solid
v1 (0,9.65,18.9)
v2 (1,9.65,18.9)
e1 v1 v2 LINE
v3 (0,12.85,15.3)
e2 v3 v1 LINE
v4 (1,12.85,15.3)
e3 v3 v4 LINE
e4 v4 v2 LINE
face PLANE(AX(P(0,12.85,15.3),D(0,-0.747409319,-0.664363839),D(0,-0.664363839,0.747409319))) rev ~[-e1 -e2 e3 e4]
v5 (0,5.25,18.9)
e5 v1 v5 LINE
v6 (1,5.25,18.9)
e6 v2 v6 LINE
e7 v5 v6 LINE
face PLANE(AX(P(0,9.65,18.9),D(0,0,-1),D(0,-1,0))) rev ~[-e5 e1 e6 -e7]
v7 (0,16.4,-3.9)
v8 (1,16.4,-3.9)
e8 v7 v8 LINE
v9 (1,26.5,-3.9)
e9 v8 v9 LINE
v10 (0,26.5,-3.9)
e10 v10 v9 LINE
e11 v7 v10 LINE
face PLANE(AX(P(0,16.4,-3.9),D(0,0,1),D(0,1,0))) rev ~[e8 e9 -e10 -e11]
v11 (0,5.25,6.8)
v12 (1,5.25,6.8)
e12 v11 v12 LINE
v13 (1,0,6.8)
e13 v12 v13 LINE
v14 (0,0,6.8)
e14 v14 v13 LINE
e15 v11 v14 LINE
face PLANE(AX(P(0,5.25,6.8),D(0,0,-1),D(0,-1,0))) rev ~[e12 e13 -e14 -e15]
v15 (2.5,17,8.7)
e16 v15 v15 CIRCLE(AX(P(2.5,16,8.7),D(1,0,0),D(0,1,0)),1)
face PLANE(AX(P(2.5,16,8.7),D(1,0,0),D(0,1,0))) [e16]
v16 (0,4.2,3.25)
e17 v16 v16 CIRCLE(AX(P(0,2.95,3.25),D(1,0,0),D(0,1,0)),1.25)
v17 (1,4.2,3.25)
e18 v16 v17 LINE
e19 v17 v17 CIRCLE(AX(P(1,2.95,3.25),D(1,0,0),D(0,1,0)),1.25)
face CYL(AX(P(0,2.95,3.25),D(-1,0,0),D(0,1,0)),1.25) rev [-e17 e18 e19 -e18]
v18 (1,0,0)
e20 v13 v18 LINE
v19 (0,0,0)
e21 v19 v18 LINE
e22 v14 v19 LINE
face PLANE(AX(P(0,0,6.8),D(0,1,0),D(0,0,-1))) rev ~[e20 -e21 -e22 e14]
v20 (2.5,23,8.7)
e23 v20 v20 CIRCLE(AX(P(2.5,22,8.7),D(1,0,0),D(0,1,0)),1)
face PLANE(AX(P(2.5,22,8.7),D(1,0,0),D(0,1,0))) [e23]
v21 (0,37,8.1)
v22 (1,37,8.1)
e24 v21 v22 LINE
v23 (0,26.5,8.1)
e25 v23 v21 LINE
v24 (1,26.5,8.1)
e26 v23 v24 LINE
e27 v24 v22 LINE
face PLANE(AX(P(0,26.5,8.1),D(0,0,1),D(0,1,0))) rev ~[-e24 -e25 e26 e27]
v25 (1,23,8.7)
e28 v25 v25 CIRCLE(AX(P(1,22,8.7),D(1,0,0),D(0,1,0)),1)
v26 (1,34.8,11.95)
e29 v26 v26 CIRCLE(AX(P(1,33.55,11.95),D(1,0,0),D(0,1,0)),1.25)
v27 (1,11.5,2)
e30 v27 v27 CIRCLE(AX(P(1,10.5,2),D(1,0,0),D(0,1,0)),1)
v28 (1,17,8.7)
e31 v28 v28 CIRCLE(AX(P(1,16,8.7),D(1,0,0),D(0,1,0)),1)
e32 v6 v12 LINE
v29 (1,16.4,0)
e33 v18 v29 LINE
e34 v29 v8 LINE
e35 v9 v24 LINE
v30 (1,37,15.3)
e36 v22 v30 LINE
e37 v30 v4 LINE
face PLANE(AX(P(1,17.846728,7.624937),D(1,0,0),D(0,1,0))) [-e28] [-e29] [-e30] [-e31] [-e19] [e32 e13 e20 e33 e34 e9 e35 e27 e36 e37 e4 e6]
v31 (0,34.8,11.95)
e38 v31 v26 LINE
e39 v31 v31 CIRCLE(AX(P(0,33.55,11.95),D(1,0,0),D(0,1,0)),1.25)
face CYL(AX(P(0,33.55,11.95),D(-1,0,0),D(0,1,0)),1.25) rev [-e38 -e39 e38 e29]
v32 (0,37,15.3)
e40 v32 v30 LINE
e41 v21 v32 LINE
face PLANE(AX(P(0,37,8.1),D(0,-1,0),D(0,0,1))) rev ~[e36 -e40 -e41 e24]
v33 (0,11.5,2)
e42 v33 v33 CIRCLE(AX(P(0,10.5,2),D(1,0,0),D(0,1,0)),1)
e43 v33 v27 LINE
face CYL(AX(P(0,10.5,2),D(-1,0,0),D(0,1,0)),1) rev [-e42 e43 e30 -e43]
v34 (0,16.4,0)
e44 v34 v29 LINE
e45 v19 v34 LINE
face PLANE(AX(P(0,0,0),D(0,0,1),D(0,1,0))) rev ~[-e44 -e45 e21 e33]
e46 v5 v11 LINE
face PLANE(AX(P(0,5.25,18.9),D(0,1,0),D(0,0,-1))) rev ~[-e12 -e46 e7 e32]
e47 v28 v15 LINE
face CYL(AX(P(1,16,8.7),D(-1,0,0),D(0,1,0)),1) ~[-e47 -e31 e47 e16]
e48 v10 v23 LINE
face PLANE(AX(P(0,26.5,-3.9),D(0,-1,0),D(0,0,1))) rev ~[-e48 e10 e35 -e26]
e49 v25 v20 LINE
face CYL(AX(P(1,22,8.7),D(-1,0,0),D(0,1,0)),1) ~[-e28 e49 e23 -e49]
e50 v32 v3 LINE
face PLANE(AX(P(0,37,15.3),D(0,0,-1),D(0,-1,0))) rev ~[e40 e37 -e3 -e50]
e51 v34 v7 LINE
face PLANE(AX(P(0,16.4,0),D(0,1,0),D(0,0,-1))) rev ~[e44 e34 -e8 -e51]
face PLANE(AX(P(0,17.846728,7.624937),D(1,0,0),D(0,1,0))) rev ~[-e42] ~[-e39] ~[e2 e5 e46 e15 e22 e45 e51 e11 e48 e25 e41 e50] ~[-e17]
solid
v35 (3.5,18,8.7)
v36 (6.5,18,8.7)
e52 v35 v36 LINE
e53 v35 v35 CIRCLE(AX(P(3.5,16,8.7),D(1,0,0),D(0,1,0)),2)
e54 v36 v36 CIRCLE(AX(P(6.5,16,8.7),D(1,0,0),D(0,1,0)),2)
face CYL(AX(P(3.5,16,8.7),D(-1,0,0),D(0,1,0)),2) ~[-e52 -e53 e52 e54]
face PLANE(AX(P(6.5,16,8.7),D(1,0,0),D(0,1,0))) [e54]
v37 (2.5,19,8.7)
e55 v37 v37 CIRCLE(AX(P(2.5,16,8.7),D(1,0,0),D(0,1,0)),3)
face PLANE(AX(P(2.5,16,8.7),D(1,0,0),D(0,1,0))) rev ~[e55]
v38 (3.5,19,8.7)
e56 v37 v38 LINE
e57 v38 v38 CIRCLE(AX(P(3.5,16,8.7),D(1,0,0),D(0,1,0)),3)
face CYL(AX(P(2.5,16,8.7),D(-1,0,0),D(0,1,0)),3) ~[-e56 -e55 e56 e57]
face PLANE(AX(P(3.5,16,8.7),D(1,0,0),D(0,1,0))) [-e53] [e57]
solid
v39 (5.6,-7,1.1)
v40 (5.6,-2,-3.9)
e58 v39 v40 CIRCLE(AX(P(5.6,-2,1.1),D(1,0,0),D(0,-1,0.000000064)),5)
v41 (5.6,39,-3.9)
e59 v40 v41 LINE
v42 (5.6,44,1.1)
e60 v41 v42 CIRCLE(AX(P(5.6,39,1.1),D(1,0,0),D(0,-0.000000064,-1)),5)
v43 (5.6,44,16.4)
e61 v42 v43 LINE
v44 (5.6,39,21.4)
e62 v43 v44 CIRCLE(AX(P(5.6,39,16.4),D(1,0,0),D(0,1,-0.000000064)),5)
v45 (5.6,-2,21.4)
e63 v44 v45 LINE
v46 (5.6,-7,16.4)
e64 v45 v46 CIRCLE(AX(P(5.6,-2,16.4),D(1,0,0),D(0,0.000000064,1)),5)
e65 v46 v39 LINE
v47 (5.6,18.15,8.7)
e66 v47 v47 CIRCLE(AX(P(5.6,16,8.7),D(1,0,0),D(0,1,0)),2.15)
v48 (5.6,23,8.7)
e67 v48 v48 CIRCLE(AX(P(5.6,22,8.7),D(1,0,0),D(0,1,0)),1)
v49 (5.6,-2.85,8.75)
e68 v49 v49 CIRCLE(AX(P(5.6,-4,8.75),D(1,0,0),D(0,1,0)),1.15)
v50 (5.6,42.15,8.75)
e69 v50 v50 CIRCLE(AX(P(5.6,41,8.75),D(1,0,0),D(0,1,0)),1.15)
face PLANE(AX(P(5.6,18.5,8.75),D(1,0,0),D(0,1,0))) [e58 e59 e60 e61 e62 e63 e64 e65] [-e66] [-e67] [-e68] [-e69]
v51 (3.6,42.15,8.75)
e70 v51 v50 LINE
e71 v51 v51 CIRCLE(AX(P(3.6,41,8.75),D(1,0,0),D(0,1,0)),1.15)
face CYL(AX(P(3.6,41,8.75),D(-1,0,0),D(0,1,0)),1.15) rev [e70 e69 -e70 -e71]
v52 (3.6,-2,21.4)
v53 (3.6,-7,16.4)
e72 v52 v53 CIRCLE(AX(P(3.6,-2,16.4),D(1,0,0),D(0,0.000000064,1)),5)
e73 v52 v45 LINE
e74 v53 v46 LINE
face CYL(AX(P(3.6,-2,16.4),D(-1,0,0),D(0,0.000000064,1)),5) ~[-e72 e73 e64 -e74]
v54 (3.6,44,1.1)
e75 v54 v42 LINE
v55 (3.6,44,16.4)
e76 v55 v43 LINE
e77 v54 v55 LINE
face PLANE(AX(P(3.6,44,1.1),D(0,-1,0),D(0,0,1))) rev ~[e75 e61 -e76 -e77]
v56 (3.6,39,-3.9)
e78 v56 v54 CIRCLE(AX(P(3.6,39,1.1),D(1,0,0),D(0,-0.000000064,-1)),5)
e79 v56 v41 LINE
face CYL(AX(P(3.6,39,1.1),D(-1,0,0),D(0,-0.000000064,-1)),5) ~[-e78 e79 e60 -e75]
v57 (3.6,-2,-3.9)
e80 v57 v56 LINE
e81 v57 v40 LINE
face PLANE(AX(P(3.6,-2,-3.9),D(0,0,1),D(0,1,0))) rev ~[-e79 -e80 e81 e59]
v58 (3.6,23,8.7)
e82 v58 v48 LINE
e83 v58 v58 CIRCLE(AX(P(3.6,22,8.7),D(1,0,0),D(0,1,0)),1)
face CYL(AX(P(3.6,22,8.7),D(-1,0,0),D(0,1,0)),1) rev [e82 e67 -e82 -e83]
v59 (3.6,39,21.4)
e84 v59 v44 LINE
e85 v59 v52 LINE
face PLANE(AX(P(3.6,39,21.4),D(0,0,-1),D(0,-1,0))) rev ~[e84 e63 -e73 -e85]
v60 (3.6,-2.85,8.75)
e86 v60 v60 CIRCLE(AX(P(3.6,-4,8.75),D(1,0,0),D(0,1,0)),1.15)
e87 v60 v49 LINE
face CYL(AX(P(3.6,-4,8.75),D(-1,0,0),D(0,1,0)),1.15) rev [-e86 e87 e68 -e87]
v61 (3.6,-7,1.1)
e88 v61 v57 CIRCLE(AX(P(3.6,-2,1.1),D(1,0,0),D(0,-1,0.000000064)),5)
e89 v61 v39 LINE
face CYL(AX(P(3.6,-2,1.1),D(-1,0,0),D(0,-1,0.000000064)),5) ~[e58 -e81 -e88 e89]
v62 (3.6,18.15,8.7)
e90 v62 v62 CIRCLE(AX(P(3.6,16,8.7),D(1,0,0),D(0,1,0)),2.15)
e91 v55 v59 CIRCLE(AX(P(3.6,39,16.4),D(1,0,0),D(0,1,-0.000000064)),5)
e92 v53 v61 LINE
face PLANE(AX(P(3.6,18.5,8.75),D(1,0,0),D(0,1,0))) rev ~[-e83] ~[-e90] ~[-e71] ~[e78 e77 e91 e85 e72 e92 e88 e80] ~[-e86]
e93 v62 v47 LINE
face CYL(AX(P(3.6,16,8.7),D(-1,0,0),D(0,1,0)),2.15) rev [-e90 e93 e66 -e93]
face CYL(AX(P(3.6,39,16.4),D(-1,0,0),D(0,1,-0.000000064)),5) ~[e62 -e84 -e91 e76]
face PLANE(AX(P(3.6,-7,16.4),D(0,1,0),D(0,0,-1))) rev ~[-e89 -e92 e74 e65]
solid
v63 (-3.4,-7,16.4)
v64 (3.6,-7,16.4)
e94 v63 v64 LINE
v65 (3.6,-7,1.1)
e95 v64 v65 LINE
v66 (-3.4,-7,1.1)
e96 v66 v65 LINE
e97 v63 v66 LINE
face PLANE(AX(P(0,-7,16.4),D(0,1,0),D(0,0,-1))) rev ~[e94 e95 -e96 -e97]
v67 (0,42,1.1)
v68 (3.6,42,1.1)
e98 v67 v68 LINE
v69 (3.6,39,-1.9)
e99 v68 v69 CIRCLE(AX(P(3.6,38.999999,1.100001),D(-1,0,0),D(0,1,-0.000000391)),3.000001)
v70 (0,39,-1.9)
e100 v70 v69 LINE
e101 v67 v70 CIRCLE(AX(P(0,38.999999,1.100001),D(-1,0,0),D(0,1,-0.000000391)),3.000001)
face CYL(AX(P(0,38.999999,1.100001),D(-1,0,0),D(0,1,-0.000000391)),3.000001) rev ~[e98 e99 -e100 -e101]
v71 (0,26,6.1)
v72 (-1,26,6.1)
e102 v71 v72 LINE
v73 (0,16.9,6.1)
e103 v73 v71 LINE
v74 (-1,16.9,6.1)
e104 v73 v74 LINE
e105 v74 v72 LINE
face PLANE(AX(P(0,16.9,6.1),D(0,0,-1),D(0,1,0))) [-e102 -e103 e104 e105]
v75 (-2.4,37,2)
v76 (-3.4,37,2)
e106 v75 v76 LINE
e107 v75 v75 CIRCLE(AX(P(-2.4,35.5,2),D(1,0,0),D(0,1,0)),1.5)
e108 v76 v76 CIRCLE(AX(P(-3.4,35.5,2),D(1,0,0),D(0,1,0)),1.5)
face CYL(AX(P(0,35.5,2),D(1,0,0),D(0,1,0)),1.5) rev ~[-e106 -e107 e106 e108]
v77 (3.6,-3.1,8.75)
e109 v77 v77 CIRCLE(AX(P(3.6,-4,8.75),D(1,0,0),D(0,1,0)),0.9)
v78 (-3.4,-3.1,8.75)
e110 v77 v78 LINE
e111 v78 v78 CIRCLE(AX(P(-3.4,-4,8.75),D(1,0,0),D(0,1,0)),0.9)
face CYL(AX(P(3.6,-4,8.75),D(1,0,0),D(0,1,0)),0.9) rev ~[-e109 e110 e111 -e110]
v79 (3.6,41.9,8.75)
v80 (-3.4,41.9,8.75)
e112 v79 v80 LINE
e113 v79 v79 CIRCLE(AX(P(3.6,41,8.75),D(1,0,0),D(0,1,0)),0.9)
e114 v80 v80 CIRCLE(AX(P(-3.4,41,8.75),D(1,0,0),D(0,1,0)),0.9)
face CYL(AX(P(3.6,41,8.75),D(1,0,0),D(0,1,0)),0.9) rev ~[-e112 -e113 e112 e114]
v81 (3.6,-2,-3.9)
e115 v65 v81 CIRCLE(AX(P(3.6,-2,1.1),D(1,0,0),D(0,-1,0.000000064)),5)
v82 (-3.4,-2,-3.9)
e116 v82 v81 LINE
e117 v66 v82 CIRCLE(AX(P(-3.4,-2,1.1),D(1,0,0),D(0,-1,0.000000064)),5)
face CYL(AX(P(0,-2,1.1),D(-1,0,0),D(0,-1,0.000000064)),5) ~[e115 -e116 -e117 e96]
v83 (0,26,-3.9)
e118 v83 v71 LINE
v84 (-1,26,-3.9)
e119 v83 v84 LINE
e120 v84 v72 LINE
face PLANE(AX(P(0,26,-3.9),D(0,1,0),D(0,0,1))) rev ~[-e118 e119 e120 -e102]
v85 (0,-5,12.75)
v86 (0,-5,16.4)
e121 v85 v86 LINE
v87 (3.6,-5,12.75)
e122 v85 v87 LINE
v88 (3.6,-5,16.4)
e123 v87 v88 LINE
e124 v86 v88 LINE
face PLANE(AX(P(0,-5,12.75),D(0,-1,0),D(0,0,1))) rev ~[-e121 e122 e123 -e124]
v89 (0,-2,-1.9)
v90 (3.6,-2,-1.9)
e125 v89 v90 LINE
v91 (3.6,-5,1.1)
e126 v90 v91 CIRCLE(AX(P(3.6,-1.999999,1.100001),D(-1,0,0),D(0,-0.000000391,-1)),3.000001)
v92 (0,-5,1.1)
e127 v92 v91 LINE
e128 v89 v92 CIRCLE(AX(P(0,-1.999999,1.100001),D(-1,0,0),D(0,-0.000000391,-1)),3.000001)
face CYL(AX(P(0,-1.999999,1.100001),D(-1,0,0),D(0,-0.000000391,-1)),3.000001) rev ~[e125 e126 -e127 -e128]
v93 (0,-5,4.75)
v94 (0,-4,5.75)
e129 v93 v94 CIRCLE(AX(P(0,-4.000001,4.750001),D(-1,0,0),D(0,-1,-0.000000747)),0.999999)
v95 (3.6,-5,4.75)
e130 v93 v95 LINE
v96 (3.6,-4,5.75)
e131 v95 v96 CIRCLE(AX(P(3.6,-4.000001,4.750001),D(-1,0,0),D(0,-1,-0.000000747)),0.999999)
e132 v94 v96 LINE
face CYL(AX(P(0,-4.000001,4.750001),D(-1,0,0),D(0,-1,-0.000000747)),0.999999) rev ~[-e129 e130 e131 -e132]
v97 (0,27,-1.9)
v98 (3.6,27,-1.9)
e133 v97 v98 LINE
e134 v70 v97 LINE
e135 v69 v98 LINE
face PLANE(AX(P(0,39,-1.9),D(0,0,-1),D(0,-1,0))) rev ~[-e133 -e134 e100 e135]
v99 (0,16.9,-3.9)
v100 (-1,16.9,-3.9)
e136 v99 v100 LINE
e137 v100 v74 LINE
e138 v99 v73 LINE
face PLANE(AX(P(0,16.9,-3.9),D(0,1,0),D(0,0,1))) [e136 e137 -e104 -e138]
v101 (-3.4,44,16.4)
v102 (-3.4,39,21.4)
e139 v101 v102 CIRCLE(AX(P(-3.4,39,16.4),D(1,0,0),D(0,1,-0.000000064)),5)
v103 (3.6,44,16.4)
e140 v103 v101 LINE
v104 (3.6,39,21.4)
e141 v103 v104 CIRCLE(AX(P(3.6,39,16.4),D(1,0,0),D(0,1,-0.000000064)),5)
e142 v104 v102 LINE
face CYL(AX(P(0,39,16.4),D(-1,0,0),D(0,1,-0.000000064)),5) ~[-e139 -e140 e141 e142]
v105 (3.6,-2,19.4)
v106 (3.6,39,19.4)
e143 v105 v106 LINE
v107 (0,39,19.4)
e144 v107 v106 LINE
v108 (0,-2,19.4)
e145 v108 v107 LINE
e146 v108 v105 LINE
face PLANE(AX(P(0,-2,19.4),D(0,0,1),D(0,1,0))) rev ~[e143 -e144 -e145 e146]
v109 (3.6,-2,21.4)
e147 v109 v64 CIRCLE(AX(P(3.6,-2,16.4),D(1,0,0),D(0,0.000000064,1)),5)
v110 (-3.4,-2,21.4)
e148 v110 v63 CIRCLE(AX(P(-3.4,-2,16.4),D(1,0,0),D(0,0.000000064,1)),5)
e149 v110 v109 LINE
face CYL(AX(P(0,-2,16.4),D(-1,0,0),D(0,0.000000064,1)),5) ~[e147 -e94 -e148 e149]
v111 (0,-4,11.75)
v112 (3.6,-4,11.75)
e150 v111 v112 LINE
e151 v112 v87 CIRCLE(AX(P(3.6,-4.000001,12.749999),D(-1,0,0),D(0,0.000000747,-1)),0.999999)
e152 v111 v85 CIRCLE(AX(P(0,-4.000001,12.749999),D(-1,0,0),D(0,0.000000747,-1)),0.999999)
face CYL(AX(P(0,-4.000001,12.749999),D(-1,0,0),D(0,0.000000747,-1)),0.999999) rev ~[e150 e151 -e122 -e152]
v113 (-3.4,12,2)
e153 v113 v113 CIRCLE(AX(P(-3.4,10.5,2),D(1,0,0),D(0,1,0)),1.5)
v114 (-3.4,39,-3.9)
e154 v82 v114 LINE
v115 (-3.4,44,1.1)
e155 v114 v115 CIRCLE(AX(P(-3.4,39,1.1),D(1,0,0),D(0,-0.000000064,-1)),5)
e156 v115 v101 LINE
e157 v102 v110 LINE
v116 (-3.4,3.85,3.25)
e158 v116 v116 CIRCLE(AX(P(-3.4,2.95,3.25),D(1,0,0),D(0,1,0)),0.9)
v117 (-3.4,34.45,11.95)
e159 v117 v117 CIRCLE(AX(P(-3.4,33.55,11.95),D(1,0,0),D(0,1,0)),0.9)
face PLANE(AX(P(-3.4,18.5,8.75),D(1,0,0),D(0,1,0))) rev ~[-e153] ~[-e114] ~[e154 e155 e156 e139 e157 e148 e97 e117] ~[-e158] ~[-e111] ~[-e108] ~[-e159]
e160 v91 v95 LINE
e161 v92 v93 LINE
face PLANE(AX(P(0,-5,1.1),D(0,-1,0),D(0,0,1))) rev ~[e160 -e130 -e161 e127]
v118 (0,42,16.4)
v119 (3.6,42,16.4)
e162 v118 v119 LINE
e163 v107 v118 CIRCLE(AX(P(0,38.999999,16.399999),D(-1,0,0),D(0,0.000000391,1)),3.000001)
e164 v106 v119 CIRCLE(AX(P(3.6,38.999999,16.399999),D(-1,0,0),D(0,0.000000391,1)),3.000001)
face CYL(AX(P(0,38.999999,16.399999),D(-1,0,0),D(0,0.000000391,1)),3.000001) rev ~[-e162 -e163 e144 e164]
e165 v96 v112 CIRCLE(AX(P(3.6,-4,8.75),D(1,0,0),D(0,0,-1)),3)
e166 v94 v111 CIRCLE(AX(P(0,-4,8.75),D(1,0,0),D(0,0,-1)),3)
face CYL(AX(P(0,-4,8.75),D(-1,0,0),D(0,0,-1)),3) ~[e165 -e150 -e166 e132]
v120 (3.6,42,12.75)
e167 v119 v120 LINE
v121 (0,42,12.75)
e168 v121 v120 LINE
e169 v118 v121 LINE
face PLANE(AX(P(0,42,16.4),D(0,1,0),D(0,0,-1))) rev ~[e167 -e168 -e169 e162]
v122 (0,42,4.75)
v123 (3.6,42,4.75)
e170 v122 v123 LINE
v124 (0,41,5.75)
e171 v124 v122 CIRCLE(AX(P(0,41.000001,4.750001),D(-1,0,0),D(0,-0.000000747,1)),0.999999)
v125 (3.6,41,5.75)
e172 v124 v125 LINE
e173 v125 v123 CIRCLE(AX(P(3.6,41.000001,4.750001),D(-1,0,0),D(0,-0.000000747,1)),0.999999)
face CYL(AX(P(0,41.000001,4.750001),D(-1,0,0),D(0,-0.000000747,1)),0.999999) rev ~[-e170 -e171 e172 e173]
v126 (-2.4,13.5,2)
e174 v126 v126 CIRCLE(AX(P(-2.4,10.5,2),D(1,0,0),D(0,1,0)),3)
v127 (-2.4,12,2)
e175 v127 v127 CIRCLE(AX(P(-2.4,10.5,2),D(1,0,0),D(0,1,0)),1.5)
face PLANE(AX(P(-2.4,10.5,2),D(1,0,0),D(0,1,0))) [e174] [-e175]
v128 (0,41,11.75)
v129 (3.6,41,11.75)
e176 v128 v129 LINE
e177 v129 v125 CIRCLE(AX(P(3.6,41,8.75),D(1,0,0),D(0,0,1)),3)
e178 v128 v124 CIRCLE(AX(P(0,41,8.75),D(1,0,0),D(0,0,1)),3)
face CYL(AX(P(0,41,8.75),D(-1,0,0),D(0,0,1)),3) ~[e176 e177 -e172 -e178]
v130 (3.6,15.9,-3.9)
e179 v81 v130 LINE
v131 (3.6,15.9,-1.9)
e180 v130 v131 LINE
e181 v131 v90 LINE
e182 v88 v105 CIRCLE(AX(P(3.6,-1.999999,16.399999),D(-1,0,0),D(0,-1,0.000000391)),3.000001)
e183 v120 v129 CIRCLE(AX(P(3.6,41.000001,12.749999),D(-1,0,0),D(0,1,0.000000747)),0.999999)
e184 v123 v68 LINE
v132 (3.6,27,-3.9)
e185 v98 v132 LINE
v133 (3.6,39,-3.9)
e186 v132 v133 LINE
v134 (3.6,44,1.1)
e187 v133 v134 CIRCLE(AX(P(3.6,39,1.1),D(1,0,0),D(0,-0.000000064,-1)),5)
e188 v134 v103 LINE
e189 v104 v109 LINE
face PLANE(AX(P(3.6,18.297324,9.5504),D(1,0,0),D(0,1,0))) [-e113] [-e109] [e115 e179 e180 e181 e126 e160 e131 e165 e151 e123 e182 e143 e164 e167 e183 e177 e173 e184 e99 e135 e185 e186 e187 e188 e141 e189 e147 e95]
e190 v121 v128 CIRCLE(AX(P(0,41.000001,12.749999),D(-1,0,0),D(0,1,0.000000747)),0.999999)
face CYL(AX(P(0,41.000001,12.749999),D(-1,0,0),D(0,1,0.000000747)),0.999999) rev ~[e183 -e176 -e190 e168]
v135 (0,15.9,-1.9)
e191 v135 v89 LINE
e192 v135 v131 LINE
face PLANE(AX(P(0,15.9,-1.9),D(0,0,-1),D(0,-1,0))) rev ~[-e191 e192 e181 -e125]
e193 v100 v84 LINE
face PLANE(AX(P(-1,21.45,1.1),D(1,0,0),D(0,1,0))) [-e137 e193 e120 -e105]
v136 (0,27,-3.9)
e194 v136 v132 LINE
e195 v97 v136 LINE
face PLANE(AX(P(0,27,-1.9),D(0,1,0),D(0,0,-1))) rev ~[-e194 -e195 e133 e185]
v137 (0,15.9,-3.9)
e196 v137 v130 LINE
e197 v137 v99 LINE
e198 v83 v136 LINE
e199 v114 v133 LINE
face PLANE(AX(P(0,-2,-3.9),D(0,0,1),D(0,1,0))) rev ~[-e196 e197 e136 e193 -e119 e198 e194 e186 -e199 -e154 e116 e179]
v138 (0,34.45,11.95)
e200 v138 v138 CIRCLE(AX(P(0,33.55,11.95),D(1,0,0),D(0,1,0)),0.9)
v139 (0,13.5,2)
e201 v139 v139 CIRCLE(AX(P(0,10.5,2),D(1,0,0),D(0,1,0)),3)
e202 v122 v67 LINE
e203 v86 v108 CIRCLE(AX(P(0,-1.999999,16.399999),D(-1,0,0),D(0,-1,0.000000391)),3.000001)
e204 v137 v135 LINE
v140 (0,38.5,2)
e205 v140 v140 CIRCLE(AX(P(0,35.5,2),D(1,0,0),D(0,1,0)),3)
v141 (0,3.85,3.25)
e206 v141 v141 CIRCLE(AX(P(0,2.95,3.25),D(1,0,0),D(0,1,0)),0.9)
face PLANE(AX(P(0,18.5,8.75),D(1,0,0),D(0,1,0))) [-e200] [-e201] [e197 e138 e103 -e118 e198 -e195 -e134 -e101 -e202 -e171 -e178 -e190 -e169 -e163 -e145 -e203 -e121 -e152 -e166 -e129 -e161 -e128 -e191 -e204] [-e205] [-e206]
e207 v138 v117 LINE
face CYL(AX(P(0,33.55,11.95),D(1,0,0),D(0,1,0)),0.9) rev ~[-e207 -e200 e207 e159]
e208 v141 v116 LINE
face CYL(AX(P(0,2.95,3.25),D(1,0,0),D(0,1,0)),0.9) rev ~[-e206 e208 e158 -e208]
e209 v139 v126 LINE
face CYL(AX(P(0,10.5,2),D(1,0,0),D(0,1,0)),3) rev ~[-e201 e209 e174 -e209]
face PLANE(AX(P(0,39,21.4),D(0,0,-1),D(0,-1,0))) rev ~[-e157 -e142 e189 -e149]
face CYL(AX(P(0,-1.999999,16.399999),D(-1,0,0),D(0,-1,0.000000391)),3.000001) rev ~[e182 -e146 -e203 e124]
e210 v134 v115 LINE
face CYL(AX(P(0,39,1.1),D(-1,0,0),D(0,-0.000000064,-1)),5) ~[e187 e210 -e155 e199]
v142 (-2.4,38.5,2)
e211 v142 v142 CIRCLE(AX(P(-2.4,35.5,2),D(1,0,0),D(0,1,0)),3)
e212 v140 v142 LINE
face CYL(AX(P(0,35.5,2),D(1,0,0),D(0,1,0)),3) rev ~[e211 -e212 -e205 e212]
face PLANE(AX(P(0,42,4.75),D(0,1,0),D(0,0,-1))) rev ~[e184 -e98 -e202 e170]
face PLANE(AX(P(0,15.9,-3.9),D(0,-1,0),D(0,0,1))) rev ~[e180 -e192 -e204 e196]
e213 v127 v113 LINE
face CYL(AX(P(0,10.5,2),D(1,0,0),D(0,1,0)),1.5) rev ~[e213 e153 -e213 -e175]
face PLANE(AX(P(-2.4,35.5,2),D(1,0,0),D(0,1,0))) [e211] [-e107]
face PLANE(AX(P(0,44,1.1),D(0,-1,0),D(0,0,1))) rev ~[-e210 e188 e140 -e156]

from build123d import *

# Parameters (mm, degrees)
F0_R      = 1.25
F0_R_2    = 1
F1_DEPTH  = 1
F2_R      = 1
F3_DEPTH  = 1.5
F4_R      = 1.5
F5_DEPTH  = 3.4
F6_R      = 3
F7_DEPTH  = 2.4
F8_W      = 9.1
F8_H      = 10
F9_DEPTH  = 1
F10_R     = 0.9
F11_DEPTH = 3.401
F13_DEPTH = 3.6
F14_R     = 0.9
F15_DEPTH = 7.001
F16_R     = 2.15
F16_R_2   = 1
F16_R_3   = 1.15
F17_DEPTH = 2
F18_R     = 3
F19_DEPTH = 1
F20_R     = 2
F21_DEPTH = 3


with BuildPart() as f1:
    # F0 (on Right) → F1 (new body)
    with BuildSketch(Plane.YZ):
        Polygon((0, 6.8), (0, 0), (16.4, 0), (16.4, -3.9), (26.5, -3.9), (26.5, 8.1), (37, 8.1), (37, 15.3), (12.85, 15.3), (9.65, 18.9), (5.25, 18.9), (5.25, 6.8), align=None)
        with Locations((2.95, 3.25)):
            Circle(F0_R, mode=Mode.SUBTRACT)
        with Locations((10.5, 2)):
            Circle(F0_R_2, mode=Mode.SUBTRACT)
        with Locations((33.55, 11.95)):
            Circle(F0_R, mode=Mode.SUBTRACT)
    extrude(amount=F1_DEPTH)

    # F2 (on face) → F3 (join)
    with BuildSketch(Plane.YZ.offset(1)):
        with Locations((16, 8.7)):
            Circle(F2_R)
        with Locations((22, 8.7)):
            Circle(F2_R)
    extrude(amount=F3_DEPTH)


with BuildPart() as f5:
    # F4 (on Right) → F5 (new body)
    with BuildSketch(Plane.YZ):
        with BuildLine():
            ThreePointArc((-7, 1.1), (-5.535534, -2.435534), (-2, -3.9))
            Line((-2, -3.9), (39, -3.9))
            ThreePointArc((39, -3.9), (42.535534, -2.435534), (44, 1.1))
            Line((44, 1.1), (44, 16.4))
            ThreePointArc((44, 16.4), (42.535534, 19.935534), (39, 21.4))
            Line((39, 21.4), (-2, 21.4))
            ThreePointArc((-2, 21.4), (-5.535534, 19.935534), (-7, 16.4))
            Line((-7, 16.4), (-7, 1.1))
        make_face()
        with Locations((10.5, 2)):
            Circle(F4_R, mode=Mode.SUBTRACT)
        with Locations((35.5, 2)):
            Circle(F4_R, mode=Mode.SUBTRACT)
    extrude(amount=-F5_DEPTH)

    # F6 (on face) → F7 (cut)
    with BuildSketch(Plane.YZ):
        with Locations((35.5, 2)):
            Circle(F6_R)
        with Locations((10.5, 2)):
            Circle(F6_R)
    extrude(amount=-F7_DEPTH, mode=Mode.SUBTRACT)

    # F8 (on face) → F9 (cut)
    with BuildSketch(Plane.YZ):
        with Locations((21.45, 1.1)):
            Rectangle(F8_W, F8_H)
    extrude(amount=-F9_DEPTH, mode=Mode.SUBTRACT)

    # F10 (on face) → F11 (cut, through all)
    with BuildSketch(Plane.YZ):
        with Locations((33.55, 11.95)):
            Circle(F10_R)
        with Locations((2.95, 3.25)):
            Circle(F10_R)
    extrude(amount=-F11_DEPTH, mode=Mode.SUBTRACT)

    # F12 (on face) → F13 (join)
    with BuildSketch(Plane.YZ):
        with BuildLine():
            Line((39, 21.4), (-2, 21.4))
            ThreePointArc((-2, 21.4), (-5.535534, 19.935534), (-7, 16.4))
            Line((-7, 16.4), (-7, 1.1))
            ThreePointArc((-7, 1.1), (-5.535534, -2.435534), (-2, -3.9))
            Line((-2, -3.9), (15.9, -3.9))
            Line((15.9, -3.9), (15.9, -1.9))
            Line((15.9, -1.9), (-2, -1.9))
            ThreePointArc((-2, -1.9), (-4.12132, -1.02132), (-5, 1.1))
            Line((-5, 1.1), (-5, 4.75))
            ThreePointArc((-5, 4.75), (-4.707107, 5.457107), (-4, 5.75))
            ThreePointArc((-4, 5.75), (-1, 8.75), (-4, 11.75))
            ThreePointArc((-4, 11.75), (-4.707107, 12.042893), (-5, 12.75))
            Line((-5, 12.75), (-5, 16.4))
            ThreePointArc((-5, 16.4), (-4.12132, 18.52132), (-2, 19.4))
            Line((-2, 19.4), (39, 19.4))
            ThreePointArc((39, 19.4), (41.12132, 18.52132), (42, 16.4))
            Line((42, 16.4), (42, 12.75))
            ThreePointArc((42, 12.75), (41.707107, 12.042893), (41, 11.75))
            ThreePointArc((41, 11.75), (38, 8.75), (41, 5.75))
            ThreePointArc((41, 5.75), (41.707107, 5.457107), (42, 4.75))
            Line((42, 4.75), (42, 1.1))
            ThreePointArc((42, 1.1), (41.12132, -1.02132), (39, -1.9))
            Line((39, -1.9), (27, -1.9))
            Line((27, -1.9), (27, -3.9))
            Line((27, -3.9), (39, -3.9))
            ThreePointArc((39, -3.9), (42.535534, -2.435534), (44, 1.1))
            Line((44, 1.1), (44, 16.4))
            ThreePointArc((44, 16.4), (42.535534, 19.935534), (39, 21.4))
        make_face()
    extrude(amount=F13_DEPTH)

    # F14 (on face) → F15 (cut, through all)
    with BuildSketch(Plane.YZ.offset(3.6)):
        with Locations((-4, 8.75)):
            Circle(F14_R)
        with Locations((41, 8.75)):
            Circle(F14_R)
    extrude(amount=-F15_DEPTH, mode=Mode.SUBTRACT)


with BuildPart() as f17:
    # F16 (on face) → F17 (new body)
    with BuildSketch(Plane.YZ.offset(3.6)):
        with BuildLine():
            Line((-7, 16.4), (-7, 1.1))
            ThreePointArc((-7, 1.1), (-5.535534, -2.435534), (-2, -3.9))
            Line((-2, -3.9), (15.9, -3.9))
            Line((15.9, -3.9), (27, -3.9))
            Line((27, -3.9), (39, -3.9))
            ThreePointArc((39, -3.9), (42.535534, -2.435534), (44, 1.1))
            Line((44, 1.1), (44, 16.4))
            ThreePointArc((44, 16.4), (42.535534, 19.935534), (39, 21.4))
            Line((39, 21.4), (-2, 21.4))
            ThreePointArc((-2, 21.4), (-5.535534, 19.935534), (-7, 16.4))
        make_face()
        with Locations((16, 8.7)):
            Circle(F16_R, mode=Mode.SUBTRACT)
        with Locations((22, 8.7)):
            Circle(F16_R_2, mode=Mode.SUBTRACT)
        with Locations((-4, 8.75)):
            Circle(F16_R_3, mode=Mode.SUBTRACT)
        with Locations((41, 8.75)):
            Circle(F16_R_3, mode=Mode.SUBTRACT)
    extrude(amount=F17_DEPTH)


with BuildPart() as f19:
    # F18 (on face) → F19 (new body)
    with BuildSketch(Plane.YZ.offset(2.5)):
        with Locations((16, 8.7)):
            Circle(F18_R)
    extrude(amount=F19_DEPTH)

    # F20 (on face) → F21 (join)
    with BuildSketch(Plane.YZ.offset(3.5)):
        with Locations((16, 8.7)):
            Circle(F20_R)
    extrude(amount=F21_DEPTH)


solid = Compound([f1.part, f5.part, f17.part, f19.part])
